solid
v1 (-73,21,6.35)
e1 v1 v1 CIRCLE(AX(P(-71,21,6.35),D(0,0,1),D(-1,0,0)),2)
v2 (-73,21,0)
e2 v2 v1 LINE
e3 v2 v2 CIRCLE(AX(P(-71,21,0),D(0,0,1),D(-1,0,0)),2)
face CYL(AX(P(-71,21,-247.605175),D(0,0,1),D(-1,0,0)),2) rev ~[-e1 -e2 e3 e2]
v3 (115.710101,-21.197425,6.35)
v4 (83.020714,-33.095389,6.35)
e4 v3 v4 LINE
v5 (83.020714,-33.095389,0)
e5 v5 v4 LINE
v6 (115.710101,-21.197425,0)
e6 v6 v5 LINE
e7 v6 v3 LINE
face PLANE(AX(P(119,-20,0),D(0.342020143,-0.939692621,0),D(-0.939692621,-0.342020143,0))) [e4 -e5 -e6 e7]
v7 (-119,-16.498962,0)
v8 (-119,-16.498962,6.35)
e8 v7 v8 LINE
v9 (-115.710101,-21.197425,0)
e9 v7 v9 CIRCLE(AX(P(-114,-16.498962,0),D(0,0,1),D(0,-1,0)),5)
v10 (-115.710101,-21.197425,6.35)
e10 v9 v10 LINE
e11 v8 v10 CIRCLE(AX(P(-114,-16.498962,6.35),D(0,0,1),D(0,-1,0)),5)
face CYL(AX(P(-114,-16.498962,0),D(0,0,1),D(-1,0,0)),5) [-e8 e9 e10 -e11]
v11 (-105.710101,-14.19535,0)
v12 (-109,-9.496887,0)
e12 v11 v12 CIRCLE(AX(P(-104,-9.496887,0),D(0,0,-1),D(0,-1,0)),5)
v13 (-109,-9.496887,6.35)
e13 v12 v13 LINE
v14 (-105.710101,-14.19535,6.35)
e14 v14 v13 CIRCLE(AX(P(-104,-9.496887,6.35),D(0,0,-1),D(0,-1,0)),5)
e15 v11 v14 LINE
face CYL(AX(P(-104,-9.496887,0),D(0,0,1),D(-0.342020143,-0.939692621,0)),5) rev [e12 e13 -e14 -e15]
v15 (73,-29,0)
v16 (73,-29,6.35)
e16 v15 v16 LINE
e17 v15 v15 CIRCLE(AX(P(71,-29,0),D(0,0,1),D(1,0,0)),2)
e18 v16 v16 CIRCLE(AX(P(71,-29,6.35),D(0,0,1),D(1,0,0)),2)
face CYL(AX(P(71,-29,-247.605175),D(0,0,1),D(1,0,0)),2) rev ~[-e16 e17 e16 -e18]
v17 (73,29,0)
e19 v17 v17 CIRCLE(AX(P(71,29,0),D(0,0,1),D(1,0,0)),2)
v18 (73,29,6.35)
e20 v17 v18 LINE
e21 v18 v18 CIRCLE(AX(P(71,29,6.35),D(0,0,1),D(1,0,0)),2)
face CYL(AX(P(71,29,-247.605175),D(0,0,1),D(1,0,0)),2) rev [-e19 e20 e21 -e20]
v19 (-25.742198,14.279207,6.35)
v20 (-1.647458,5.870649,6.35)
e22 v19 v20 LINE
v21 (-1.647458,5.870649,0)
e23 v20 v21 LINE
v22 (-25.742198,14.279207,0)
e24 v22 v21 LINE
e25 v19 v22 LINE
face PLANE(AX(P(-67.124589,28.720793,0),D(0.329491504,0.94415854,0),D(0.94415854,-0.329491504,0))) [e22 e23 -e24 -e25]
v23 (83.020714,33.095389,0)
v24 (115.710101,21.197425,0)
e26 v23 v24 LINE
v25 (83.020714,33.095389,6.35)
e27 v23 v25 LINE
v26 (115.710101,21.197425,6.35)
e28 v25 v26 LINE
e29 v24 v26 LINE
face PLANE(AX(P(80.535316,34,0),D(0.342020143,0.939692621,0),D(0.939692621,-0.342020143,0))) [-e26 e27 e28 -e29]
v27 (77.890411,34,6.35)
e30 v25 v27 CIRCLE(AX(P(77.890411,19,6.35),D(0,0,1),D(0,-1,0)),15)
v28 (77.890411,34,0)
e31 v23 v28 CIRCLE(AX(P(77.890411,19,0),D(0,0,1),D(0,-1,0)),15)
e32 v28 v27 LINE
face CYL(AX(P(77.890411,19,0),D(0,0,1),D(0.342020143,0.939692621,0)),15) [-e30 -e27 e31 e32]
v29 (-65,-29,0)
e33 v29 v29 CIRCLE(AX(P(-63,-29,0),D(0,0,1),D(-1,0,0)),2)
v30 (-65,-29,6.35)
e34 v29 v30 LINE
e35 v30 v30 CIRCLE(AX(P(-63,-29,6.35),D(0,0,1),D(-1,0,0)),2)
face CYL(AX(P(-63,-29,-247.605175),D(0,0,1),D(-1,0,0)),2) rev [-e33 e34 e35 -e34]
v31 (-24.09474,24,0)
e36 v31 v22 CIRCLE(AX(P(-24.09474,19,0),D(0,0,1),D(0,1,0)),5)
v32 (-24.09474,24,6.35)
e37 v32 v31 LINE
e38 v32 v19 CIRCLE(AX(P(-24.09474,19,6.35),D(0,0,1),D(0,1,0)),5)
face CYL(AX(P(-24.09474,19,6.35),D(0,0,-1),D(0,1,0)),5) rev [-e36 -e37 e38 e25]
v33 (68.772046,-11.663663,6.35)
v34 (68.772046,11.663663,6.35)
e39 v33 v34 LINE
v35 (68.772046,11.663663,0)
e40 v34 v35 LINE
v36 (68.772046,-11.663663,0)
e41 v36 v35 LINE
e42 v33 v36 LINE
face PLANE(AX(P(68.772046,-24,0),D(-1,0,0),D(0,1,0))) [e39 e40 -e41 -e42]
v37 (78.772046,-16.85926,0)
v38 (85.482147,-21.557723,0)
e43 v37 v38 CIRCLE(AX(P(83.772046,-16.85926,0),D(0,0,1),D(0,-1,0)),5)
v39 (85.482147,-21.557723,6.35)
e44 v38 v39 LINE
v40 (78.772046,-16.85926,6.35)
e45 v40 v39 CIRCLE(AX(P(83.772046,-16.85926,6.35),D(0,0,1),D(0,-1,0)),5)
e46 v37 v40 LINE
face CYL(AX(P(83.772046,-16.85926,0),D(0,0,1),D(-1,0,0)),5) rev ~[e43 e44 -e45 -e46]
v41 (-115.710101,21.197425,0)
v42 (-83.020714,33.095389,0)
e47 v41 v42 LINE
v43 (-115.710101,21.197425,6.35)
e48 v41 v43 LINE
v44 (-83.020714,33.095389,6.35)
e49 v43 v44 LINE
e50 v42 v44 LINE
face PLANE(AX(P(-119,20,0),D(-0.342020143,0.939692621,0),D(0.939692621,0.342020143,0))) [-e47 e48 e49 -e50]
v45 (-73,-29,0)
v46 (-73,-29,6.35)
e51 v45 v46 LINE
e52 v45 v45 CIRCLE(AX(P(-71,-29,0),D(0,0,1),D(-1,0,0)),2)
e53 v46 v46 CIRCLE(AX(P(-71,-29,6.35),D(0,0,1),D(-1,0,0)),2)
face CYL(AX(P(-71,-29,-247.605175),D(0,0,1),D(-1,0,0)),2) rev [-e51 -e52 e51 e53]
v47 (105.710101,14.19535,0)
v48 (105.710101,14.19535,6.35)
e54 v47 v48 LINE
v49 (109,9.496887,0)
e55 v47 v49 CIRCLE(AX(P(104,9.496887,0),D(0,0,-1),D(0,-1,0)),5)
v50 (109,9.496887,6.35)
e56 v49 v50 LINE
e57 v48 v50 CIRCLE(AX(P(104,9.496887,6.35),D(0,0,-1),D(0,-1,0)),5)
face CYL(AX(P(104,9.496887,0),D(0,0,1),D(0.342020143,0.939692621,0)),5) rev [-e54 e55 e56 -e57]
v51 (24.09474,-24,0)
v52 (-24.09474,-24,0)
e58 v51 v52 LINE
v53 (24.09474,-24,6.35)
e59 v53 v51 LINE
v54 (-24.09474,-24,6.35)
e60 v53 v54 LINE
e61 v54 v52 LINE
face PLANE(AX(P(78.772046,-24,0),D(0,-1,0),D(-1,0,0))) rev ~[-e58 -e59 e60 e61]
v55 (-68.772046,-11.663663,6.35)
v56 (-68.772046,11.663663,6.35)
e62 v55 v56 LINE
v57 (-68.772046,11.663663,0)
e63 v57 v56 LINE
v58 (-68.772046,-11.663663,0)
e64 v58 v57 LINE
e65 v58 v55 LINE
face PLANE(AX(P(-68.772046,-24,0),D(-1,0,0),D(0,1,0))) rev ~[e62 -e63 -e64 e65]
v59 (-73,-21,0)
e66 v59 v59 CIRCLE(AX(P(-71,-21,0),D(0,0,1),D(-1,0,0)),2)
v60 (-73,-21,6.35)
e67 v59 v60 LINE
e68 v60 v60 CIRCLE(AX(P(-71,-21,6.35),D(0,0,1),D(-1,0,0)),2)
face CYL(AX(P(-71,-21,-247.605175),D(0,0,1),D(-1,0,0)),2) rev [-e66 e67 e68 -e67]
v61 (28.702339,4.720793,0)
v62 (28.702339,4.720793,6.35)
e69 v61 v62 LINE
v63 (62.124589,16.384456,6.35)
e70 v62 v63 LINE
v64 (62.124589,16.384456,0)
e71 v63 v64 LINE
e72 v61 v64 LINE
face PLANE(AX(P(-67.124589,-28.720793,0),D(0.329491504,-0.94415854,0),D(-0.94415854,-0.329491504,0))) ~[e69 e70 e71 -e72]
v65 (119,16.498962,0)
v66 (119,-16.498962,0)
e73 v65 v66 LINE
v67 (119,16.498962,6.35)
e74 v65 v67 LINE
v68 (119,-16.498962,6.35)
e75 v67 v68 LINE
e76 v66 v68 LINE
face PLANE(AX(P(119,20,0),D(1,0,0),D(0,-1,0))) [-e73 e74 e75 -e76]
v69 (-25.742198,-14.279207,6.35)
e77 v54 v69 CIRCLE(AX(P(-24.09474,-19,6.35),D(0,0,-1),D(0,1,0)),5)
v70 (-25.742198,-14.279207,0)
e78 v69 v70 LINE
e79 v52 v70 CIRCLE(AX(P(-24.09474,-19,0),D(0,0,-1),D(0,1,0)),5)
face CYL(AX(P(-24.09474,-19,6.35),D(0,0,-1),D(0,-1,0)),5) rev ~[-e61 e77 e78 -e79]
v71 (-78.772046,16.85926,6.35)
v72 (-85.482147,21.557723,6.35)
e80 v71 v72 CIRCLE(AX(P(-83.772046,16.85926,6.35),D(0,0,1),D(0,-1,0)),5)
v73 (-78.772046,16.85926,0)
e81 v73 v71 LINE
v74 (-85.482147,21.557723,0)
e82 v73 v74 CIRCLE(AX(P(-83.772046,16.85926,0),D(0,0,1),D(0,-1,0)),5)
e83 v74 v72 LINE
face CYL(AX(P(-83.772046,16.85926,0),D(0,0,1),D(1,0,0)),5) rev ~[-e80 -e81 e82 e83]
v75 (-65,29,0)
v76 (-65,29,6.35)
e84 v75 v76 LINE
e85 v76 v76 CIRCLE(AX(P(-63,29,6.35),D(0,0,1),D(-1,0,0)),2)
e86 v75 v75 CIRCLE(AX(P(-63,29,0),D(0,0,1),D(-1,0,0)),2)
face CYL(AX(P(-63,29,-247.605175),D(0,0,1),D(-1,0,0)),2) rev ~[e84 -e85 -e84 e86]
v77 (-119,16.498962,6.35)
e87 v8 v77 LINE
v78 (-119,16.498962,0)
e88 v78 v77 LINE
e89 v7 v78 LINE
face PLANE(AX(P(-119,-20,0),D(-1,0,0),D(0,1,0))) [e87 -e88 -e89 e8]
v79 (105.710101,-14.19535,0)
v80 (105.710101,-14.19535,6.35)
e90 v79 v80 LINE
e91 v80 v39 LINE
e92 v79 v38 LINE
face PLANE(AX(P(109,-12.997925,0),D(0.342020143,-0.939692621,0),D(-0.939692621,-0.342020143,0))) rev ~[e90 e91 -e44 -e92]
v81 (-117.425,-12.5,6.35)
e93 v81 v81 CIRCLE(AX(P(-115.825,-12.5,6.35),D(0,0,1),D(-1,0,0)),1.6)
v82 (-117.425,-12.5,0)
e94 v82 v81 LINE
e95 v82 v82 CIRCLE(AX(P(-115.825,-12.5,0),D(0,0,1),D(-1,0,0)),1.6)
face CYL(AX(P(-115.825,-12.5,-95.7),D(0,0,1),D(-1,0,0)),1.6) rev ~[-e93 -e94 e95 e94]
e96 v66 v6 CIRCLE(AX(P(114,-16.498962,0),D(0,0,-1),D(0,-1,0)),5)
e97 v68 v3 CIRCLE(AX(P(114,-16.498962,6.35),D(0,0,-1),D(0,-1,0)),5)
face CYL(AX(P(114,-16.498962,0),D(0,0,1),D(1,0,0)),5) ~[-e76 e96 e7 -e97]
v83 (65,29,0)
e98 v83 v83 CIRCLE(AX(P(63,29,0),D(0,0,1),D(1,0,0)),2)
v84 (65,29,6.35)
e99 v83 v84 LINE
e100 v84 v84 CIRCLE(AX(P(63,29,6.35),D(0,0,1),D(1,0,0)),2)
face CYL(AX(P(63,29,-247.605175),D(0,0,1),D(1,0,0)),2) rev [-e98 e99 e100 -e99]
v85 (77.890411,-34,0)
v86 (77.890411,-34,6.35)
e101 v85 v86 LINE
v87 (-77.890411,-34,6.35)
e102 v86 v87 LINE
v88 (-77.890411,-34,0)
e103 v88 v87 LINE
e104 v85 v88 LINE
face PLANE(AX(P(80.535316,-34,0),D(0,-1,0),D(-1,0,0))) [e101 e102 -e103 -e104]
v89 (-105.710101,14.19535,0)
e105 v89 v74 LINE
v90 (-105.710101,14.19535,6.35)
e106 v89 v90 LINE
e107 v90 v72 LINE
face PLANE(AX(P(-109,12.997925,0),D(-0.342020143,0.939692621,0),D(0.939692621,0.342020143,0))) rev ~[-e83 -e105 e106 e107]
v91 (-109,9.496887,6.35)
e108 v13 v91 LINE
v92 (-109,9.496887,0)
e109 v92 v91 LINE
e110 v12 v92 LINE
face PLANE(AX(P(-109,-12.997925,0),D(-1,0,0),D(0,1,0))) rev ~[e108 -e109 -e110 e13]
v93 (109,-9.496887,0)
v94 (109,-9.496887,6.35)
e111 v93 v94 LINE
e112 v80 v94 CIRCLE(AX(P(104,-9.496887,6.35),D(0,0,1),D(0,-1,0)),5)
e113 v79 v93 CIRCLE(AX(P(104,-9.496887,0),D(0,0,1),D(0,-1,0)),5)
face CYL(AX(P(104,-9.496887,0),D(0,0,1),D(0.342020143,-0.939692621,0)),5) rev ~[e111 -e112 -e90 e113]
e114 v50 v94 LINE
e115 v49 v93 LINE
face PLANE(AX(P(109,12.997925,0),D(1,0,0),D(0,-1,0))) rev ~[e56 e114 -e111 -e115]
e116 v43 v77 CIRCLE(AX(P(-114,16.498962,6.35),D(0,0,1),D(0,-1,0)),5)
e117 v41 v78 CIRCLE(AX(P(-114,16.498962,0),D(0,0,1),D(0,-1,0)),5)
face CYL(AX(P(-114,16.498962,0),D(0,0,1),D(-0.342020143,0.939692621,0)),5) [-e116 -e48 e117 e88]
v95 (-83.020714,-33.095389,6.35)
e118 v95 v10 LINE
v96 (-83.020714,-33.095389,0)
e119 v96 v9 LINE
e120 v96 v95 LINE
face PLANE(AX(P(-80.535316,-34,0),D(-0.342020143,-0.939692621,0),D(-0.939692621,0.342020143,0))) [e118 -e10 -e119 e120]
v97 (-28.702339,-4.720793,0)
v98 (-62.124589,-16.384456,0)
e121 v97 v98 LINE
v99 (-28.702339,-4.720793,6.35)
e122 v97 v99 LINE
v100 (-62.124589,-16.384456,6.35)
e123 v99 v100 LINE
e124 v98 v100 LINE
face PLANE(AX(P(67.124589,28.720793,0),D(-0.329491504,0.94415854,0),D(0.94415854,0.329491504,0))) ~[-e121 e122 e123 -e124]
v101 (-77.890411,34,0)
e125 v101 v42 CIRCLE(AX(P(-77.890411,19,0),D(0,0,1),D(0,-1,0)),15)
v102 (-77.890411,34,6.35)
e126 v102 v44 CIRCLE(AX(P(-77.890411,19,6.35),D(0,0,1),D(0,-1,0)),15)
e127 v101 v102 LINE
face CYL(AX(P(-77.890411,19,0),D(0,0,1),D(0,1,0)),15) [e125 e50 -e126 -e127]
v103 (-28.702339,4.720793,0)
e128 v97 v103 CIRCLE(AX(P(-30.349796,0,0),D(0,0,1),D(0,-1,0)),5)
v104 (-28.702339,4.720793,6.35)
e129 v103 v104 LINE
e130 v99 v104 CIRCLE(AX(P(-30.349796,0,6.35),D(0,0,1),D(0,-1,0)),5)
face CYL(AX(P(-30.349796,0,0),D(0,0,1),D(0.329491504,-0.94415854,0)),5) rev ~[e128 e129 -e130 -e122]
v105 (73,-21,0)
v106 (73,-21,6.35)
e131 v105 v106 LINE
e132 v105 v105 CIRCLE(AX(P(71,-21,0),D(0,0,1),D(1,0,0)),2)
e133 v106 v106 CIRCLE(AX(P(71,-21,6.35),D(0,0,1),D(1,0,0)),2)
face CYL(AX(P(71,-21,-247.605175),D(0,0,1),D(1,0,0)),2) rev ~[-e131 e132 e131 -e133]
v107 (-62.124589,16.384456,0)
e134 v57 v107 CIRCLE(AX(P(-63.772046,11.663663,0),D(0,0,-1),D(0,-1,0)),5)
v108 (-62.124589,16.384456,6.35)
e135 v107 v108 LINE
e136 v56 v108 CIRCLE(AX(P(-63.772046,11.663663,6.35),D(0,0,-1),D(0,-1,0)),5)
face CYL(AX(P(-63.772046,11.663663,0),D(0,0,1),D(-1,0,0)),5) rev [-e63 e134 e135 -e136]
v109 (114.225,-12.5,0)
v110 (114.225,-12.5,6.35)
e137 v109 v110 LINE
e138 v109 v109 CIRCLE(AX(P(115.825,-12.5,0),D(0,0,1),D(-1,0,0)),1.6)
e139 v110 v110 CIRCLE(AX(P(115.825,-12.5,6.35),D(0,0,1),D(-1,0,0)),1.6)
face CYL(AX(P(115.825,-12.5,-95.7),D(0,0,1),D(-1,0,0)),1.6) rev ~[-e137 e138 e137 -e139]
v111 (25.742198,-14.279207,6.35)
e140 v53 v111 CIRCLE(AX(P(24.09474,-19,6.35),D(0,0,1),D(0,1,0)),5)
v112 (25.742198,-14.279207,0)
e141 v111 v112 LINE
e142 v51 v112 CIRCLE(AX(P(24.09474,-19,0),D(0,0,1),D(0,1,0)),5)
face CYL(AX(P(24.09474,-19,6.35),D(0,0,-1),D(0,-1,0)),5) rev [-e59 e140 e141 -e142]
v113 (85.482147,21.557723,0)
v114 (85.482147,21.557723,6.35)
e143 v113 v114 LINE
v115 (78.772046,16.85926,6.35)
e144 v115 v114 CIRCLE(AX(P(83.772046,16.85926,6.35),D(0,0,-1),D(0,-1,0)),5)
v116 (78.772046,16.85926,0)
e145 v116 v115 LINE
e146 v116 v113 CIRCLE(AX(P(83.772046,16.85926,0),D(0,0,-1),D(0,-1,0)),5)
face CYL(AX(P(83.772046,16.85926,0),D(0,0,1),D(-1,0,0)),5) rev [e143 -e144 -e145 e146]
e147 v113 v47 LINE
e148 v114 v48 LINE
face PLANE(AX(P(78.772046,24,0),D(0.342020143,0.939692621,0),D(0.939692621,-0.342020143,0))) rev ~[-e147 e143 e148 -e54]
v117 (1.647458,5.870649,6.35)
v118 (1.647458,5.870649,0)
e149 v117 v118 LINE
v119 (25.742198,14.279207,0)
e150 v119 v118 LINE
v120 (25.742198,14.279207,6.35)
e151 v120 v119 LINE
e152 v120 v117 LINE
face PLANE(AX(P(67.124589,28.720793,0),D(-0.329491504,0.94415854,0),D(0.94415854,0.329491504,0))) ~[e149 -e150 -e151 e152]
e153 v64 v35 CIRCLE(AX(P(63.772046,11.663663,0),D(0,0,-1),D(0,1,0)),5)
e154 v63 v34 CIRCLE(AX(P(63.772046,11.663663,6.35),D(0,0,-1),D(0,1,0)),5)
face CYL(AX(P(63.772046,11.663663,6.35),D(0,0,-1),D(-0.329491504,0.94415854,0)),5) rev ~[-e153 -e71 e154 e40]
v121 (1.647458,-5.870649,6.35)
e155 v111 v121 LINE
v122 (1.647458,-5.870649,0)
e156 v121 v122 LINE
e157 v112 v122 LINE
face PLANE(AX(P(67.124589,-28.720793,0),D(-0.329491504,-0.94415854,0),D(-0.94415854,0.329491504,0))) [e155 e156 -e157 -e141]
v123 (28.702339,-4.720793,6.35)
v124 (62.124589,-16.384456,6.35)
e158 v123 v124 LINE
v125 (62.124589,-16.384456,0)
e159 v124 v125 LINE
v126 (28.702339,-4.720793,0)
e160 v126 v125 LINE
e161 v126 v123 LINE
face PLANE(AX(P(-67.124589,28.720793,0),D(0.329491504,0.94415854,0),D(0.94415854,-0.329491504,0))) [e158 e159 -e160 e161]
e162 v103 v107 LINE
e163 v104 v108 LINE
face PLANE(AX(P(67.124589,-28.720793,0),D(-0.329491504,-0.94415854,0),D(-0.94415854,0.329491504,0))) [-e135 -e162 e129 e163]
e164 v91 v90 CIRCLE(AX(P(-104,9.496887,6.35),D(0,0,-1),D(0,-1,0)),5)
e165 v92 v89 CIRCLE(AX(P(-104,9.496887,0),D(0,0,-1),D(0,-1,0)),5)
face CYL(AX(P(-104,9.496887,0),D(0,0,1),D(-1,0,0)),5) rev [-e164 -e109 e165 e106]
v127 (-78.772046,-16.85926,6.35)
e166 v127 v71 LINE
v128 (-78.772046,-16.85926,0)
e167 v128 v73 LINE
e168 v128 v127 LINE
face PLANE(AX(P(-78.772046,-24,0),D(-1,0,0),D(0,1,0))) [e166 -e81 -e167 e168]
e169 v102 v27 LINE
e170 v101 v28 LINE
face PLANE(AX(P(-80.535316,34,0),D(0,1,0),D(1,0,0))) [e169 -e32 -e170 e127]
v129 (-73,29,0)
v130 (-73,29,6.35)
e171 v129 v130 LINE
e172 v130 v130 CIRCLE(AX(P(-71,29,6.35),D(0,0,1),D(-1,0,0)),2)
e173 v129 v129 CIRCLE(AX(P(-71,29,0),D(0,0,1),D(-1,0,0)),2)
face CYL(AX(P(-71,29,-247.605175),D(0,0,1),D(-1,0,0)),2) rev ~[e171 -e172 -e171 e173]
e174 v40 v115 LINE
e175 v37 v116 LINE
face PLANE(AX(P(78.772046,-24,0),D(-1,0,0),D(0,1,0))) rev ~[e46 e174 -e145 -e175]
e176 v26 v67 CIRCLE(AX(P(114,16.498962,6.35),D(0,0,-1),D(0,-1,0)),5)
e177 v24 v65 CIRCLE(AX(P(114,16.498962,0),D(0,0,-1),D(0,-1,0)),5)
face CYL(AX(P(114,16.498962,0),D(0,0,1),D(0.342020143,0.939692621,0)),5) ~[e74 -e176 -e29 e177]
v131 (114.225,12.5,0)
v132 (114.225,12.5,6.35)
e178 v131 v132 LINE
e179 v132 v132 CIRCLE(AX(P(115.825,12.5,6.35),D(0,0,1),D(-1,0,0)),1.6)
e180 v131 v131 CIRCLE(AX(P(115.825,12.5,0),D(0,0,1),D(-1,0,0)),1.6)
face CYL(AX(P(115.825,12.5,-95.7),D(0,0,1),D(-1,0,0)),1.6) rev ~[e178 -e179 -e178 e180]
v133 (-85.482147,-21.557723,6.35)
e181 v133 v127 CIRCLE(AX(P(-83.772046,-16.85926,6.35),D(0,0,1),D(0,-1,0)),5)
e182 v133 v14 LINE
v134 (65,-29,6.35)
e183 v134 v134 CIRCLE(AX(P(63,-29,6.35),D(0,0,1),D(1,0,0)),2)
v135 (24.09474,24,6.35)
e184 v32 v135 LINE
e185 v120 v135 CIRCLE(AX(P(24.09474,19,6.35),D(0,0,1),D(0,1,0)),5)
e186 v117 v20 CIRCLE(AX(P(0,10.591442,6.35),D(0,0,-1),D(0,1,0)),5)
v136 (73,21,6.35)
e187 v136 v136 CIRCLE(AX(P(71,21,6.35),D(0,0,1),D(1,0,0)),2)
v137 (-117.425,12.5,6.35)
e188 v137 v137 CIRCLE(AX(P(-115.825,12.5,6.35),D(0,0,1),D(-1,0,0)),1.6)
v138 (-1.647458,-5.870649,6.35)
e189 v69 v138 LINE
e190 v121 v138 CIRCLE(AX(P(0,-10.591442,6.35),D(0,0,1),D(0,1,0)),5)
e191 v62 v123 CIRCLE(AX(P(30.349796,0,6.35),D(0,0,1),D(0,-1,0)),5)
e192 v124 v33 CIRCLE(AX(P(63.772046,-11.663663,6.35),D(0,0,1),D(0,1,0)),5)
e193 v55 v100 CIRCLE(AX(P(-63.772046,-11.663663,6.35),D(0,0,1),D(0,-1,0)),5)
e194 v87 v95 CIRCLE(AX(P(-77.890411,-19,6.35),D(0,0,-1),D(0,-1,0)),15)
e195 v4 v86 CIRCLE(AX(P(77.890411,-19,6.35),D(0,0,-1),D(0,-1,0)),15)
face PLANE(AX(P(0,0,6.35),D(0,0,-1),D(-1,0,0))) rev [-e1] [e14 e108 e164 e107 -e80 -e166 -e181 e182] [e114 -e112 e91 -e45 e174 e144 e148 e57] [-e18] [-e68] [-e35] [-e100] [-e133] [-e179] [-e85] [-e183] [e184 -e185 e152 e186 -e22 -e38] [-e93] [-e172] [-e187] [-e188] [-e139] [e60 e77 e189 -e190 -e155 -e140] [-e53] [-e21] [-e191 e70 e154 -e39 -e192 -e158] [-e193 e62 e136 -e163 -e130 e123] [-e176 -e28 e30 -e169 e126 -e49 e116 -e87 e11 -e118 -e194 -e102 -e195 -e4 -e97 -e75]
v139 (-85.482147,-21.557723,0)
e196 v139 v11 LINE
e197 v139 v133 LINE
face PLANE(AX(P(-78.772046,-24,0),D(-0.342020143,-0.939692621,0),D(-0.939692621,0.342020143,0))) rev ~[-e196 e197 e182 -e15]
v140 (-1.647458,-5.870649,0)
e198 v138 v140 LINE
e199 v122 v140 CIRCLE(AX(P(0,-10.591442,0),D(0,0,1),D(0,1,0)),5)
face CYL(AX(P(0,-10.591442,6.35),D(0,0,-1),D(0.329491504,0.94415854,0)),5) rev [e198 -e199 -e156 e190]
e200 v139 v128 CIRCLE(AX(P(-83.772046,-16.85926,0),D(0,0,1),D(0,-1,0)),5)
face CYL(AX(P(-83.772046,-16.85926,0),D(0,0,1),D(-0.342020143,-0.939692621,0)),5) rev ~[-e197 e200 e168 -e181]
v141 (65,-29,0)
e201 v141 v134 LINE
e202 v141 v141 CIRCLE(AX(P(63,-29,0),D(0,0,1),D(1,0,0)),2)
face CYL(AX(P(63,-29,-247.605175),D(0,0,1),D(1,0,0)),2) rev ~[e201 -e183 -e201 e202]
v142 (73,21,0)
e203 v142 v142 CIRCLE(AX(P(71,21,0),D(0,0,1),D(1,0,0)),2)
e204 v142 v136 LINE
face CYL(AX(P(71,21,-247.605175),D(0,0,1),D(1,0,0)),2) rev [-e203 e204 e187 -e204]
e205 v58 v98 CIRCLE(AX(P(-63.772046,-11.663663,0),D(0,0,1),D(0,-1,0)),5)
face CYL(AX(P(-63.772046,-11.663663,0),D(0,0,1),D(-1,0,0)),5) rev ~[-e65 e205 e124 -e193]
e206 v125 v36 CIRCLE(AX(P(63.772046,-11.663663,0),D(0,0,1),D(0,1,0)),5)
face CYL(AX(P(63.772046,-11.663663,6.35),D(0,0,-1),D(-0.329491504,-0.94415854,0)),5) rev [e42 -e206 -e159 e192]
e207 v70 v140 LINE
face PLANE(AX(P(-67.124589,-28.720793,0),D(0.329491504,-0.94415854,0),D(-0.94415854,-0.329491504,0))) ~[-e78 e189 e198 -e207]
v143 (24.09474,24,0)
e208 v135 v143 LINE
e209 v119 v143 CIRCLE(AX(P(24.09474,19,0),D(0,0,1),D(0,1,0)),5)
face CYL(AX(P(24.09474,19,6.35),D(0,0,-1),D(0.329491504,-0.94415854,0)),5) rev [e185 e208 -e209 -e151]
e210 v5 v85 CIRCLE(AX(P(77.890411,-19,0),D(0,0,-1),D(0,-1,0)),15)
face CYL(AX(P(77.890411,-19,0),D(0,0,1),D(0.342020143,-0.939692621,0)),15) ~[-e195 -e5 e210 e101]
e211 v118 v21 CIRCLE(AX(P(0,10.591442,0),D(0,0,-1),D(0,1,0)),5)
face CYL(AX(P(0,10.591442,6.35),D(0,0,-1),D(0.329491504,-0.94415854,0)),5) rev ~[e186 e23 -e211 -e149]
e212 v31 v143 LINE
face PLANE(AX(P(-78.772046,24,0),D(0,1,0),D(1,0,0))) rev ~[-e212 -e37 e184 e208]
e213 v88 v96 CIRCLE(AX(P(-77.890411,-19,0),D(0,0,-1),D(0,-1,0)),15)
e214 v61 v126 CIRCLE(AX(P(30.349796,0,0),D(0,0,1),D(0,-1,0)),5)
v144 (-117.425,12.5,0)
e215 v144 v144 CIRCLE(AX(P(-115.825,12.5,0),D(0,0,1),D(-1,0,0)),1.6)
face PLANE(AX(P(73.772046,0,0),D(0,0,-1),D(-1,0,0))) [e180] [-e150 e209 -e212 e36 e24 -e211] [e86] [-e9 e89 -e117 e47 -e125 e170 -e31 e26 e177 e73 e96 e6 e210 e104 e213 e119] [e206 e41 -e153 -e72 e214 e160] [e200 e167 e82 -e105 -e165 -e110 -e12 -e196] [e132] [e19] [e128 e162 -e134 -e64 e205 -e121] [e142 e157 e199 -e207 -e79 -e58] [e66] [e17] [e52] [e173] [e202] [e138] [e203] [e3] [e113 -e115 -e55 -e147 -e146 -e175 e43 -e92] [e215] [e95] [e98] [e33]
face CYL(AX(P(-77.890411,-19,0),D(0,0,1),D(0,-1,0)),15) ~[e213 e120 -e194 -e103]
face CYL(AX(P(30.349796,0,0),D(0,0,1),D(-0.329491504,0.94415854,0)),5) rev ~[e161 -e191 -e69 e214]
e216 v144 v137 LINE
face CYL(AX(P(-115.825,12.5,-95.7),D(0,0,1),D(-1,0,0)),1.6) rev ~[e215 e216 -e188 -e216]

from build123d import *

# Parameters (mm, degrees)
BOSS_EXTRUDE1_DEPTH      = 6.35
M3_CLEARANCE_HOLE1_D     = 3.2
M3_CLEARANCE_HOLE1_DEPTH = 95.7
M3_CLEARANCE_HOLE1_TIP   = 0.96137699
FILLET1_R                = 5
FILLET2_R                = 15
CUT_EXTRUDE1_DEPTH       = 124.924664615
SKETCH6_W                = 10
SKETCH6_H                = 48
BOSS_EXTRUDE2_DEPTH      = 6.35
EXTRUDE_THIN1_DEPTH      = 6.35
F_4_0_REAMED_D           = 4
MIRROR3_COPY_1_D         = 4
FILLET3_R                = 5


with BuildPart() as part:
    # Sketch1 → Boss-Extrude1 (new body)
    with BuildSketch(Plane.XY):
        Polygon((80.535316128, 34), (119, 20), (119, -20), (80.535316128, -34), (-80.535316128, -34), (-119, -20), (-119, 20), (-80.535316128, 34), align=None)
    extrude(amount=BOSS_EXTRUDE1_DEPTH)

    # M3 Clearance Hole1
    with Locations(Plane(origin=(0, 0, 0), x_dir=(1, 0, 0), z_dir=(0, 0, -1))):
        with Locations((115.825, -12.5), (115.825, 12.5), (-115.825, 12.5), (-115.825, -12.5)):
            Hole(M3_CLEARANCE_HOLE1_D / 2, depth=M3_CLEARANCE_HOLE1_DEPTH)
            with Locations((0, 0, -(M3_CLEARANCE_HOLE1_DEPTH + M3_CLEARANCE_HOLE1_TIP / 2))):  # 118° drill point
                Cone(0, M3_CLEARANCE_HOLE1_D / 2, M3_CLEARANCE_HOLE1_TIP, mode=Mode.SUBTRACT)

    # Fillet1
    fillet1_edges = [part.edges().sort_by_distance(p)[0] for p in [
        (119, -20, 3.175),
        (-119, -20, 3.175),
        (-119, 20, 3.175),
        (119, 20, 3.175),
    ]]
    fillet(fillet1_edges, radius=FILLET1_R)

    # Fillet2
    fillet2_edges = [part.edges().sort_by_distance(p)[0] for p in [
        (80.535316128, -34, 3.175),
        (-80.535316128, -34, 3.175),
        (-80.535316128, 34, 3.175),
        (80.535316128, 34, 3.175),
    ]]
    fillet(fillet2_edges, radius=FILLET2_R)

    # Sketch5 → Cut-Extrude1 (cut, through all)
    with BuildSketch(Plane(origin=(0, 0, 0), x_dir=(-1, 0, 0), z_dir=(0, 0, -1))):
        Polygon((-78.772046321, 24), (-109, 12.997924618), (-109, -12.997924618), (-78.772046321, -24), (78.772046321, -24), (109, -12.997924618), (109, 12.997924618), (78.772046321, 24), align=None)
    extrude(amount=-CUT_EXTRUDE1_DEPTH, mode=Mode.SUBTRACT)

    # Sketch6 → Boss-Extrude2 (add)
    with BuildSketch(Plane(origin=(0, 0, 0), x_dir=(-1, 0, 0), z_dir=(0, 0, -1))):
        with Locations((-73.772046321, 0)):
            Rectangle(SKETCH6_W, SKETCH6_H)
        with Locations((73.772046321, 0)):
            Rectangle(SKETCH6_W, SKETCH6_H)
    extrude(amount=-BOSS_EXTRUDE2_DEPTH)

    # Sketch7 → Extrude-Thin1 (add)
    with BuildSketch(Plane(origin=(0, 0, 0), x_dir=(-1, 0, 0), z_dir=(0, 0, -1))):
        Polygon((67.124588801, 28.720792701), (-70.41950384, -19.279207299), (-67.124588801, -28.720792701), (70.41950384, 19.279207299), align=None)
    extrude_thin1 = extrude(amount=-EXTRUDE_THIN1_DEPTH)

    # Mirror1: Extrude-Thin1 across plane
    add(extrude_thin1.mirror(Plane(origin=(0, 0, 0), x_dir=(0, 0, 1), z_dir=(1, 0, 0))))

    # Ø4.0 Reamed (through all)
    with Locations(Plane(origin=(0, 0, 0), x_dir=(-1, 0, 0), z_dir=(0, 0, -1))):
        with Locations((-71, -29), (-63, -29), (-71, -21)):
            f_4_0_reamed = Hole(F_4_0_REAMED_D / 2)

    # Mirror2: Ø4.0 Reamed across plane
    add(f_4_0_reamed.mirror(Plane(origin=(0, 0, 0), x_dir=(0, 0, 1), z_dir=(1, 0, 0))), mode=Mode.SUBTRACT)

    # Mirror3: Ø4.0 Reamed across plane
    add(f_4_0_reamed.mirror(Plane.ZX), mode=Mode.SUBTRACT)

    # Mirror3 copy 1 (through all)
    with Locations(Plane(origin=(0, 0, 0), x_dir=(1, 0, 0), z_dir=(0, 0, -1))):
        with Locations((-71, -29), (-63, -29), (-71, -21)):
            Hole(MIRROR3_COPY_1_D / 2)

    # Fillet3
    fillet3_edges = [part.edges().sort_by_distance(p)[0] for p in [
        (-78.772046321, -24, 3.175),
        (78.772046321, -24, 3.175),
        (109, -12.997924618, 3.175),
        (109, 12.997924618, 3.175),
        (78.772046321, 24, 3.175),
        (-78.772046321, 24, 3.175),
        (-109, 12.997924618, 3.175),
        (-109, -12.997924618, 3.175),
        (-68.772046321, 18.704279221, 3.175),
        (68.772046321, -18.704279221, 3.175),
        (53.597148206, -24, 3.175),
        (-53.597148206, 24, 3.175),
        (0, -5.295720779, 3.175),
        (-15.174898114, 0, 3.175),
        (-68.772046321, -18.704279221, 3.175),
        (53.597148206, 24, 3.175),
        (0, 5.295720779, 3.175),
        (-53.597148206, -24, 3.175),
        (68.772046321, 18.704279221, 3.175),
        (15.174898114, 0, 3.175),
    ]]
    fillet(fillet3_edges, radius=FILLET3_R)


solid = part.part
